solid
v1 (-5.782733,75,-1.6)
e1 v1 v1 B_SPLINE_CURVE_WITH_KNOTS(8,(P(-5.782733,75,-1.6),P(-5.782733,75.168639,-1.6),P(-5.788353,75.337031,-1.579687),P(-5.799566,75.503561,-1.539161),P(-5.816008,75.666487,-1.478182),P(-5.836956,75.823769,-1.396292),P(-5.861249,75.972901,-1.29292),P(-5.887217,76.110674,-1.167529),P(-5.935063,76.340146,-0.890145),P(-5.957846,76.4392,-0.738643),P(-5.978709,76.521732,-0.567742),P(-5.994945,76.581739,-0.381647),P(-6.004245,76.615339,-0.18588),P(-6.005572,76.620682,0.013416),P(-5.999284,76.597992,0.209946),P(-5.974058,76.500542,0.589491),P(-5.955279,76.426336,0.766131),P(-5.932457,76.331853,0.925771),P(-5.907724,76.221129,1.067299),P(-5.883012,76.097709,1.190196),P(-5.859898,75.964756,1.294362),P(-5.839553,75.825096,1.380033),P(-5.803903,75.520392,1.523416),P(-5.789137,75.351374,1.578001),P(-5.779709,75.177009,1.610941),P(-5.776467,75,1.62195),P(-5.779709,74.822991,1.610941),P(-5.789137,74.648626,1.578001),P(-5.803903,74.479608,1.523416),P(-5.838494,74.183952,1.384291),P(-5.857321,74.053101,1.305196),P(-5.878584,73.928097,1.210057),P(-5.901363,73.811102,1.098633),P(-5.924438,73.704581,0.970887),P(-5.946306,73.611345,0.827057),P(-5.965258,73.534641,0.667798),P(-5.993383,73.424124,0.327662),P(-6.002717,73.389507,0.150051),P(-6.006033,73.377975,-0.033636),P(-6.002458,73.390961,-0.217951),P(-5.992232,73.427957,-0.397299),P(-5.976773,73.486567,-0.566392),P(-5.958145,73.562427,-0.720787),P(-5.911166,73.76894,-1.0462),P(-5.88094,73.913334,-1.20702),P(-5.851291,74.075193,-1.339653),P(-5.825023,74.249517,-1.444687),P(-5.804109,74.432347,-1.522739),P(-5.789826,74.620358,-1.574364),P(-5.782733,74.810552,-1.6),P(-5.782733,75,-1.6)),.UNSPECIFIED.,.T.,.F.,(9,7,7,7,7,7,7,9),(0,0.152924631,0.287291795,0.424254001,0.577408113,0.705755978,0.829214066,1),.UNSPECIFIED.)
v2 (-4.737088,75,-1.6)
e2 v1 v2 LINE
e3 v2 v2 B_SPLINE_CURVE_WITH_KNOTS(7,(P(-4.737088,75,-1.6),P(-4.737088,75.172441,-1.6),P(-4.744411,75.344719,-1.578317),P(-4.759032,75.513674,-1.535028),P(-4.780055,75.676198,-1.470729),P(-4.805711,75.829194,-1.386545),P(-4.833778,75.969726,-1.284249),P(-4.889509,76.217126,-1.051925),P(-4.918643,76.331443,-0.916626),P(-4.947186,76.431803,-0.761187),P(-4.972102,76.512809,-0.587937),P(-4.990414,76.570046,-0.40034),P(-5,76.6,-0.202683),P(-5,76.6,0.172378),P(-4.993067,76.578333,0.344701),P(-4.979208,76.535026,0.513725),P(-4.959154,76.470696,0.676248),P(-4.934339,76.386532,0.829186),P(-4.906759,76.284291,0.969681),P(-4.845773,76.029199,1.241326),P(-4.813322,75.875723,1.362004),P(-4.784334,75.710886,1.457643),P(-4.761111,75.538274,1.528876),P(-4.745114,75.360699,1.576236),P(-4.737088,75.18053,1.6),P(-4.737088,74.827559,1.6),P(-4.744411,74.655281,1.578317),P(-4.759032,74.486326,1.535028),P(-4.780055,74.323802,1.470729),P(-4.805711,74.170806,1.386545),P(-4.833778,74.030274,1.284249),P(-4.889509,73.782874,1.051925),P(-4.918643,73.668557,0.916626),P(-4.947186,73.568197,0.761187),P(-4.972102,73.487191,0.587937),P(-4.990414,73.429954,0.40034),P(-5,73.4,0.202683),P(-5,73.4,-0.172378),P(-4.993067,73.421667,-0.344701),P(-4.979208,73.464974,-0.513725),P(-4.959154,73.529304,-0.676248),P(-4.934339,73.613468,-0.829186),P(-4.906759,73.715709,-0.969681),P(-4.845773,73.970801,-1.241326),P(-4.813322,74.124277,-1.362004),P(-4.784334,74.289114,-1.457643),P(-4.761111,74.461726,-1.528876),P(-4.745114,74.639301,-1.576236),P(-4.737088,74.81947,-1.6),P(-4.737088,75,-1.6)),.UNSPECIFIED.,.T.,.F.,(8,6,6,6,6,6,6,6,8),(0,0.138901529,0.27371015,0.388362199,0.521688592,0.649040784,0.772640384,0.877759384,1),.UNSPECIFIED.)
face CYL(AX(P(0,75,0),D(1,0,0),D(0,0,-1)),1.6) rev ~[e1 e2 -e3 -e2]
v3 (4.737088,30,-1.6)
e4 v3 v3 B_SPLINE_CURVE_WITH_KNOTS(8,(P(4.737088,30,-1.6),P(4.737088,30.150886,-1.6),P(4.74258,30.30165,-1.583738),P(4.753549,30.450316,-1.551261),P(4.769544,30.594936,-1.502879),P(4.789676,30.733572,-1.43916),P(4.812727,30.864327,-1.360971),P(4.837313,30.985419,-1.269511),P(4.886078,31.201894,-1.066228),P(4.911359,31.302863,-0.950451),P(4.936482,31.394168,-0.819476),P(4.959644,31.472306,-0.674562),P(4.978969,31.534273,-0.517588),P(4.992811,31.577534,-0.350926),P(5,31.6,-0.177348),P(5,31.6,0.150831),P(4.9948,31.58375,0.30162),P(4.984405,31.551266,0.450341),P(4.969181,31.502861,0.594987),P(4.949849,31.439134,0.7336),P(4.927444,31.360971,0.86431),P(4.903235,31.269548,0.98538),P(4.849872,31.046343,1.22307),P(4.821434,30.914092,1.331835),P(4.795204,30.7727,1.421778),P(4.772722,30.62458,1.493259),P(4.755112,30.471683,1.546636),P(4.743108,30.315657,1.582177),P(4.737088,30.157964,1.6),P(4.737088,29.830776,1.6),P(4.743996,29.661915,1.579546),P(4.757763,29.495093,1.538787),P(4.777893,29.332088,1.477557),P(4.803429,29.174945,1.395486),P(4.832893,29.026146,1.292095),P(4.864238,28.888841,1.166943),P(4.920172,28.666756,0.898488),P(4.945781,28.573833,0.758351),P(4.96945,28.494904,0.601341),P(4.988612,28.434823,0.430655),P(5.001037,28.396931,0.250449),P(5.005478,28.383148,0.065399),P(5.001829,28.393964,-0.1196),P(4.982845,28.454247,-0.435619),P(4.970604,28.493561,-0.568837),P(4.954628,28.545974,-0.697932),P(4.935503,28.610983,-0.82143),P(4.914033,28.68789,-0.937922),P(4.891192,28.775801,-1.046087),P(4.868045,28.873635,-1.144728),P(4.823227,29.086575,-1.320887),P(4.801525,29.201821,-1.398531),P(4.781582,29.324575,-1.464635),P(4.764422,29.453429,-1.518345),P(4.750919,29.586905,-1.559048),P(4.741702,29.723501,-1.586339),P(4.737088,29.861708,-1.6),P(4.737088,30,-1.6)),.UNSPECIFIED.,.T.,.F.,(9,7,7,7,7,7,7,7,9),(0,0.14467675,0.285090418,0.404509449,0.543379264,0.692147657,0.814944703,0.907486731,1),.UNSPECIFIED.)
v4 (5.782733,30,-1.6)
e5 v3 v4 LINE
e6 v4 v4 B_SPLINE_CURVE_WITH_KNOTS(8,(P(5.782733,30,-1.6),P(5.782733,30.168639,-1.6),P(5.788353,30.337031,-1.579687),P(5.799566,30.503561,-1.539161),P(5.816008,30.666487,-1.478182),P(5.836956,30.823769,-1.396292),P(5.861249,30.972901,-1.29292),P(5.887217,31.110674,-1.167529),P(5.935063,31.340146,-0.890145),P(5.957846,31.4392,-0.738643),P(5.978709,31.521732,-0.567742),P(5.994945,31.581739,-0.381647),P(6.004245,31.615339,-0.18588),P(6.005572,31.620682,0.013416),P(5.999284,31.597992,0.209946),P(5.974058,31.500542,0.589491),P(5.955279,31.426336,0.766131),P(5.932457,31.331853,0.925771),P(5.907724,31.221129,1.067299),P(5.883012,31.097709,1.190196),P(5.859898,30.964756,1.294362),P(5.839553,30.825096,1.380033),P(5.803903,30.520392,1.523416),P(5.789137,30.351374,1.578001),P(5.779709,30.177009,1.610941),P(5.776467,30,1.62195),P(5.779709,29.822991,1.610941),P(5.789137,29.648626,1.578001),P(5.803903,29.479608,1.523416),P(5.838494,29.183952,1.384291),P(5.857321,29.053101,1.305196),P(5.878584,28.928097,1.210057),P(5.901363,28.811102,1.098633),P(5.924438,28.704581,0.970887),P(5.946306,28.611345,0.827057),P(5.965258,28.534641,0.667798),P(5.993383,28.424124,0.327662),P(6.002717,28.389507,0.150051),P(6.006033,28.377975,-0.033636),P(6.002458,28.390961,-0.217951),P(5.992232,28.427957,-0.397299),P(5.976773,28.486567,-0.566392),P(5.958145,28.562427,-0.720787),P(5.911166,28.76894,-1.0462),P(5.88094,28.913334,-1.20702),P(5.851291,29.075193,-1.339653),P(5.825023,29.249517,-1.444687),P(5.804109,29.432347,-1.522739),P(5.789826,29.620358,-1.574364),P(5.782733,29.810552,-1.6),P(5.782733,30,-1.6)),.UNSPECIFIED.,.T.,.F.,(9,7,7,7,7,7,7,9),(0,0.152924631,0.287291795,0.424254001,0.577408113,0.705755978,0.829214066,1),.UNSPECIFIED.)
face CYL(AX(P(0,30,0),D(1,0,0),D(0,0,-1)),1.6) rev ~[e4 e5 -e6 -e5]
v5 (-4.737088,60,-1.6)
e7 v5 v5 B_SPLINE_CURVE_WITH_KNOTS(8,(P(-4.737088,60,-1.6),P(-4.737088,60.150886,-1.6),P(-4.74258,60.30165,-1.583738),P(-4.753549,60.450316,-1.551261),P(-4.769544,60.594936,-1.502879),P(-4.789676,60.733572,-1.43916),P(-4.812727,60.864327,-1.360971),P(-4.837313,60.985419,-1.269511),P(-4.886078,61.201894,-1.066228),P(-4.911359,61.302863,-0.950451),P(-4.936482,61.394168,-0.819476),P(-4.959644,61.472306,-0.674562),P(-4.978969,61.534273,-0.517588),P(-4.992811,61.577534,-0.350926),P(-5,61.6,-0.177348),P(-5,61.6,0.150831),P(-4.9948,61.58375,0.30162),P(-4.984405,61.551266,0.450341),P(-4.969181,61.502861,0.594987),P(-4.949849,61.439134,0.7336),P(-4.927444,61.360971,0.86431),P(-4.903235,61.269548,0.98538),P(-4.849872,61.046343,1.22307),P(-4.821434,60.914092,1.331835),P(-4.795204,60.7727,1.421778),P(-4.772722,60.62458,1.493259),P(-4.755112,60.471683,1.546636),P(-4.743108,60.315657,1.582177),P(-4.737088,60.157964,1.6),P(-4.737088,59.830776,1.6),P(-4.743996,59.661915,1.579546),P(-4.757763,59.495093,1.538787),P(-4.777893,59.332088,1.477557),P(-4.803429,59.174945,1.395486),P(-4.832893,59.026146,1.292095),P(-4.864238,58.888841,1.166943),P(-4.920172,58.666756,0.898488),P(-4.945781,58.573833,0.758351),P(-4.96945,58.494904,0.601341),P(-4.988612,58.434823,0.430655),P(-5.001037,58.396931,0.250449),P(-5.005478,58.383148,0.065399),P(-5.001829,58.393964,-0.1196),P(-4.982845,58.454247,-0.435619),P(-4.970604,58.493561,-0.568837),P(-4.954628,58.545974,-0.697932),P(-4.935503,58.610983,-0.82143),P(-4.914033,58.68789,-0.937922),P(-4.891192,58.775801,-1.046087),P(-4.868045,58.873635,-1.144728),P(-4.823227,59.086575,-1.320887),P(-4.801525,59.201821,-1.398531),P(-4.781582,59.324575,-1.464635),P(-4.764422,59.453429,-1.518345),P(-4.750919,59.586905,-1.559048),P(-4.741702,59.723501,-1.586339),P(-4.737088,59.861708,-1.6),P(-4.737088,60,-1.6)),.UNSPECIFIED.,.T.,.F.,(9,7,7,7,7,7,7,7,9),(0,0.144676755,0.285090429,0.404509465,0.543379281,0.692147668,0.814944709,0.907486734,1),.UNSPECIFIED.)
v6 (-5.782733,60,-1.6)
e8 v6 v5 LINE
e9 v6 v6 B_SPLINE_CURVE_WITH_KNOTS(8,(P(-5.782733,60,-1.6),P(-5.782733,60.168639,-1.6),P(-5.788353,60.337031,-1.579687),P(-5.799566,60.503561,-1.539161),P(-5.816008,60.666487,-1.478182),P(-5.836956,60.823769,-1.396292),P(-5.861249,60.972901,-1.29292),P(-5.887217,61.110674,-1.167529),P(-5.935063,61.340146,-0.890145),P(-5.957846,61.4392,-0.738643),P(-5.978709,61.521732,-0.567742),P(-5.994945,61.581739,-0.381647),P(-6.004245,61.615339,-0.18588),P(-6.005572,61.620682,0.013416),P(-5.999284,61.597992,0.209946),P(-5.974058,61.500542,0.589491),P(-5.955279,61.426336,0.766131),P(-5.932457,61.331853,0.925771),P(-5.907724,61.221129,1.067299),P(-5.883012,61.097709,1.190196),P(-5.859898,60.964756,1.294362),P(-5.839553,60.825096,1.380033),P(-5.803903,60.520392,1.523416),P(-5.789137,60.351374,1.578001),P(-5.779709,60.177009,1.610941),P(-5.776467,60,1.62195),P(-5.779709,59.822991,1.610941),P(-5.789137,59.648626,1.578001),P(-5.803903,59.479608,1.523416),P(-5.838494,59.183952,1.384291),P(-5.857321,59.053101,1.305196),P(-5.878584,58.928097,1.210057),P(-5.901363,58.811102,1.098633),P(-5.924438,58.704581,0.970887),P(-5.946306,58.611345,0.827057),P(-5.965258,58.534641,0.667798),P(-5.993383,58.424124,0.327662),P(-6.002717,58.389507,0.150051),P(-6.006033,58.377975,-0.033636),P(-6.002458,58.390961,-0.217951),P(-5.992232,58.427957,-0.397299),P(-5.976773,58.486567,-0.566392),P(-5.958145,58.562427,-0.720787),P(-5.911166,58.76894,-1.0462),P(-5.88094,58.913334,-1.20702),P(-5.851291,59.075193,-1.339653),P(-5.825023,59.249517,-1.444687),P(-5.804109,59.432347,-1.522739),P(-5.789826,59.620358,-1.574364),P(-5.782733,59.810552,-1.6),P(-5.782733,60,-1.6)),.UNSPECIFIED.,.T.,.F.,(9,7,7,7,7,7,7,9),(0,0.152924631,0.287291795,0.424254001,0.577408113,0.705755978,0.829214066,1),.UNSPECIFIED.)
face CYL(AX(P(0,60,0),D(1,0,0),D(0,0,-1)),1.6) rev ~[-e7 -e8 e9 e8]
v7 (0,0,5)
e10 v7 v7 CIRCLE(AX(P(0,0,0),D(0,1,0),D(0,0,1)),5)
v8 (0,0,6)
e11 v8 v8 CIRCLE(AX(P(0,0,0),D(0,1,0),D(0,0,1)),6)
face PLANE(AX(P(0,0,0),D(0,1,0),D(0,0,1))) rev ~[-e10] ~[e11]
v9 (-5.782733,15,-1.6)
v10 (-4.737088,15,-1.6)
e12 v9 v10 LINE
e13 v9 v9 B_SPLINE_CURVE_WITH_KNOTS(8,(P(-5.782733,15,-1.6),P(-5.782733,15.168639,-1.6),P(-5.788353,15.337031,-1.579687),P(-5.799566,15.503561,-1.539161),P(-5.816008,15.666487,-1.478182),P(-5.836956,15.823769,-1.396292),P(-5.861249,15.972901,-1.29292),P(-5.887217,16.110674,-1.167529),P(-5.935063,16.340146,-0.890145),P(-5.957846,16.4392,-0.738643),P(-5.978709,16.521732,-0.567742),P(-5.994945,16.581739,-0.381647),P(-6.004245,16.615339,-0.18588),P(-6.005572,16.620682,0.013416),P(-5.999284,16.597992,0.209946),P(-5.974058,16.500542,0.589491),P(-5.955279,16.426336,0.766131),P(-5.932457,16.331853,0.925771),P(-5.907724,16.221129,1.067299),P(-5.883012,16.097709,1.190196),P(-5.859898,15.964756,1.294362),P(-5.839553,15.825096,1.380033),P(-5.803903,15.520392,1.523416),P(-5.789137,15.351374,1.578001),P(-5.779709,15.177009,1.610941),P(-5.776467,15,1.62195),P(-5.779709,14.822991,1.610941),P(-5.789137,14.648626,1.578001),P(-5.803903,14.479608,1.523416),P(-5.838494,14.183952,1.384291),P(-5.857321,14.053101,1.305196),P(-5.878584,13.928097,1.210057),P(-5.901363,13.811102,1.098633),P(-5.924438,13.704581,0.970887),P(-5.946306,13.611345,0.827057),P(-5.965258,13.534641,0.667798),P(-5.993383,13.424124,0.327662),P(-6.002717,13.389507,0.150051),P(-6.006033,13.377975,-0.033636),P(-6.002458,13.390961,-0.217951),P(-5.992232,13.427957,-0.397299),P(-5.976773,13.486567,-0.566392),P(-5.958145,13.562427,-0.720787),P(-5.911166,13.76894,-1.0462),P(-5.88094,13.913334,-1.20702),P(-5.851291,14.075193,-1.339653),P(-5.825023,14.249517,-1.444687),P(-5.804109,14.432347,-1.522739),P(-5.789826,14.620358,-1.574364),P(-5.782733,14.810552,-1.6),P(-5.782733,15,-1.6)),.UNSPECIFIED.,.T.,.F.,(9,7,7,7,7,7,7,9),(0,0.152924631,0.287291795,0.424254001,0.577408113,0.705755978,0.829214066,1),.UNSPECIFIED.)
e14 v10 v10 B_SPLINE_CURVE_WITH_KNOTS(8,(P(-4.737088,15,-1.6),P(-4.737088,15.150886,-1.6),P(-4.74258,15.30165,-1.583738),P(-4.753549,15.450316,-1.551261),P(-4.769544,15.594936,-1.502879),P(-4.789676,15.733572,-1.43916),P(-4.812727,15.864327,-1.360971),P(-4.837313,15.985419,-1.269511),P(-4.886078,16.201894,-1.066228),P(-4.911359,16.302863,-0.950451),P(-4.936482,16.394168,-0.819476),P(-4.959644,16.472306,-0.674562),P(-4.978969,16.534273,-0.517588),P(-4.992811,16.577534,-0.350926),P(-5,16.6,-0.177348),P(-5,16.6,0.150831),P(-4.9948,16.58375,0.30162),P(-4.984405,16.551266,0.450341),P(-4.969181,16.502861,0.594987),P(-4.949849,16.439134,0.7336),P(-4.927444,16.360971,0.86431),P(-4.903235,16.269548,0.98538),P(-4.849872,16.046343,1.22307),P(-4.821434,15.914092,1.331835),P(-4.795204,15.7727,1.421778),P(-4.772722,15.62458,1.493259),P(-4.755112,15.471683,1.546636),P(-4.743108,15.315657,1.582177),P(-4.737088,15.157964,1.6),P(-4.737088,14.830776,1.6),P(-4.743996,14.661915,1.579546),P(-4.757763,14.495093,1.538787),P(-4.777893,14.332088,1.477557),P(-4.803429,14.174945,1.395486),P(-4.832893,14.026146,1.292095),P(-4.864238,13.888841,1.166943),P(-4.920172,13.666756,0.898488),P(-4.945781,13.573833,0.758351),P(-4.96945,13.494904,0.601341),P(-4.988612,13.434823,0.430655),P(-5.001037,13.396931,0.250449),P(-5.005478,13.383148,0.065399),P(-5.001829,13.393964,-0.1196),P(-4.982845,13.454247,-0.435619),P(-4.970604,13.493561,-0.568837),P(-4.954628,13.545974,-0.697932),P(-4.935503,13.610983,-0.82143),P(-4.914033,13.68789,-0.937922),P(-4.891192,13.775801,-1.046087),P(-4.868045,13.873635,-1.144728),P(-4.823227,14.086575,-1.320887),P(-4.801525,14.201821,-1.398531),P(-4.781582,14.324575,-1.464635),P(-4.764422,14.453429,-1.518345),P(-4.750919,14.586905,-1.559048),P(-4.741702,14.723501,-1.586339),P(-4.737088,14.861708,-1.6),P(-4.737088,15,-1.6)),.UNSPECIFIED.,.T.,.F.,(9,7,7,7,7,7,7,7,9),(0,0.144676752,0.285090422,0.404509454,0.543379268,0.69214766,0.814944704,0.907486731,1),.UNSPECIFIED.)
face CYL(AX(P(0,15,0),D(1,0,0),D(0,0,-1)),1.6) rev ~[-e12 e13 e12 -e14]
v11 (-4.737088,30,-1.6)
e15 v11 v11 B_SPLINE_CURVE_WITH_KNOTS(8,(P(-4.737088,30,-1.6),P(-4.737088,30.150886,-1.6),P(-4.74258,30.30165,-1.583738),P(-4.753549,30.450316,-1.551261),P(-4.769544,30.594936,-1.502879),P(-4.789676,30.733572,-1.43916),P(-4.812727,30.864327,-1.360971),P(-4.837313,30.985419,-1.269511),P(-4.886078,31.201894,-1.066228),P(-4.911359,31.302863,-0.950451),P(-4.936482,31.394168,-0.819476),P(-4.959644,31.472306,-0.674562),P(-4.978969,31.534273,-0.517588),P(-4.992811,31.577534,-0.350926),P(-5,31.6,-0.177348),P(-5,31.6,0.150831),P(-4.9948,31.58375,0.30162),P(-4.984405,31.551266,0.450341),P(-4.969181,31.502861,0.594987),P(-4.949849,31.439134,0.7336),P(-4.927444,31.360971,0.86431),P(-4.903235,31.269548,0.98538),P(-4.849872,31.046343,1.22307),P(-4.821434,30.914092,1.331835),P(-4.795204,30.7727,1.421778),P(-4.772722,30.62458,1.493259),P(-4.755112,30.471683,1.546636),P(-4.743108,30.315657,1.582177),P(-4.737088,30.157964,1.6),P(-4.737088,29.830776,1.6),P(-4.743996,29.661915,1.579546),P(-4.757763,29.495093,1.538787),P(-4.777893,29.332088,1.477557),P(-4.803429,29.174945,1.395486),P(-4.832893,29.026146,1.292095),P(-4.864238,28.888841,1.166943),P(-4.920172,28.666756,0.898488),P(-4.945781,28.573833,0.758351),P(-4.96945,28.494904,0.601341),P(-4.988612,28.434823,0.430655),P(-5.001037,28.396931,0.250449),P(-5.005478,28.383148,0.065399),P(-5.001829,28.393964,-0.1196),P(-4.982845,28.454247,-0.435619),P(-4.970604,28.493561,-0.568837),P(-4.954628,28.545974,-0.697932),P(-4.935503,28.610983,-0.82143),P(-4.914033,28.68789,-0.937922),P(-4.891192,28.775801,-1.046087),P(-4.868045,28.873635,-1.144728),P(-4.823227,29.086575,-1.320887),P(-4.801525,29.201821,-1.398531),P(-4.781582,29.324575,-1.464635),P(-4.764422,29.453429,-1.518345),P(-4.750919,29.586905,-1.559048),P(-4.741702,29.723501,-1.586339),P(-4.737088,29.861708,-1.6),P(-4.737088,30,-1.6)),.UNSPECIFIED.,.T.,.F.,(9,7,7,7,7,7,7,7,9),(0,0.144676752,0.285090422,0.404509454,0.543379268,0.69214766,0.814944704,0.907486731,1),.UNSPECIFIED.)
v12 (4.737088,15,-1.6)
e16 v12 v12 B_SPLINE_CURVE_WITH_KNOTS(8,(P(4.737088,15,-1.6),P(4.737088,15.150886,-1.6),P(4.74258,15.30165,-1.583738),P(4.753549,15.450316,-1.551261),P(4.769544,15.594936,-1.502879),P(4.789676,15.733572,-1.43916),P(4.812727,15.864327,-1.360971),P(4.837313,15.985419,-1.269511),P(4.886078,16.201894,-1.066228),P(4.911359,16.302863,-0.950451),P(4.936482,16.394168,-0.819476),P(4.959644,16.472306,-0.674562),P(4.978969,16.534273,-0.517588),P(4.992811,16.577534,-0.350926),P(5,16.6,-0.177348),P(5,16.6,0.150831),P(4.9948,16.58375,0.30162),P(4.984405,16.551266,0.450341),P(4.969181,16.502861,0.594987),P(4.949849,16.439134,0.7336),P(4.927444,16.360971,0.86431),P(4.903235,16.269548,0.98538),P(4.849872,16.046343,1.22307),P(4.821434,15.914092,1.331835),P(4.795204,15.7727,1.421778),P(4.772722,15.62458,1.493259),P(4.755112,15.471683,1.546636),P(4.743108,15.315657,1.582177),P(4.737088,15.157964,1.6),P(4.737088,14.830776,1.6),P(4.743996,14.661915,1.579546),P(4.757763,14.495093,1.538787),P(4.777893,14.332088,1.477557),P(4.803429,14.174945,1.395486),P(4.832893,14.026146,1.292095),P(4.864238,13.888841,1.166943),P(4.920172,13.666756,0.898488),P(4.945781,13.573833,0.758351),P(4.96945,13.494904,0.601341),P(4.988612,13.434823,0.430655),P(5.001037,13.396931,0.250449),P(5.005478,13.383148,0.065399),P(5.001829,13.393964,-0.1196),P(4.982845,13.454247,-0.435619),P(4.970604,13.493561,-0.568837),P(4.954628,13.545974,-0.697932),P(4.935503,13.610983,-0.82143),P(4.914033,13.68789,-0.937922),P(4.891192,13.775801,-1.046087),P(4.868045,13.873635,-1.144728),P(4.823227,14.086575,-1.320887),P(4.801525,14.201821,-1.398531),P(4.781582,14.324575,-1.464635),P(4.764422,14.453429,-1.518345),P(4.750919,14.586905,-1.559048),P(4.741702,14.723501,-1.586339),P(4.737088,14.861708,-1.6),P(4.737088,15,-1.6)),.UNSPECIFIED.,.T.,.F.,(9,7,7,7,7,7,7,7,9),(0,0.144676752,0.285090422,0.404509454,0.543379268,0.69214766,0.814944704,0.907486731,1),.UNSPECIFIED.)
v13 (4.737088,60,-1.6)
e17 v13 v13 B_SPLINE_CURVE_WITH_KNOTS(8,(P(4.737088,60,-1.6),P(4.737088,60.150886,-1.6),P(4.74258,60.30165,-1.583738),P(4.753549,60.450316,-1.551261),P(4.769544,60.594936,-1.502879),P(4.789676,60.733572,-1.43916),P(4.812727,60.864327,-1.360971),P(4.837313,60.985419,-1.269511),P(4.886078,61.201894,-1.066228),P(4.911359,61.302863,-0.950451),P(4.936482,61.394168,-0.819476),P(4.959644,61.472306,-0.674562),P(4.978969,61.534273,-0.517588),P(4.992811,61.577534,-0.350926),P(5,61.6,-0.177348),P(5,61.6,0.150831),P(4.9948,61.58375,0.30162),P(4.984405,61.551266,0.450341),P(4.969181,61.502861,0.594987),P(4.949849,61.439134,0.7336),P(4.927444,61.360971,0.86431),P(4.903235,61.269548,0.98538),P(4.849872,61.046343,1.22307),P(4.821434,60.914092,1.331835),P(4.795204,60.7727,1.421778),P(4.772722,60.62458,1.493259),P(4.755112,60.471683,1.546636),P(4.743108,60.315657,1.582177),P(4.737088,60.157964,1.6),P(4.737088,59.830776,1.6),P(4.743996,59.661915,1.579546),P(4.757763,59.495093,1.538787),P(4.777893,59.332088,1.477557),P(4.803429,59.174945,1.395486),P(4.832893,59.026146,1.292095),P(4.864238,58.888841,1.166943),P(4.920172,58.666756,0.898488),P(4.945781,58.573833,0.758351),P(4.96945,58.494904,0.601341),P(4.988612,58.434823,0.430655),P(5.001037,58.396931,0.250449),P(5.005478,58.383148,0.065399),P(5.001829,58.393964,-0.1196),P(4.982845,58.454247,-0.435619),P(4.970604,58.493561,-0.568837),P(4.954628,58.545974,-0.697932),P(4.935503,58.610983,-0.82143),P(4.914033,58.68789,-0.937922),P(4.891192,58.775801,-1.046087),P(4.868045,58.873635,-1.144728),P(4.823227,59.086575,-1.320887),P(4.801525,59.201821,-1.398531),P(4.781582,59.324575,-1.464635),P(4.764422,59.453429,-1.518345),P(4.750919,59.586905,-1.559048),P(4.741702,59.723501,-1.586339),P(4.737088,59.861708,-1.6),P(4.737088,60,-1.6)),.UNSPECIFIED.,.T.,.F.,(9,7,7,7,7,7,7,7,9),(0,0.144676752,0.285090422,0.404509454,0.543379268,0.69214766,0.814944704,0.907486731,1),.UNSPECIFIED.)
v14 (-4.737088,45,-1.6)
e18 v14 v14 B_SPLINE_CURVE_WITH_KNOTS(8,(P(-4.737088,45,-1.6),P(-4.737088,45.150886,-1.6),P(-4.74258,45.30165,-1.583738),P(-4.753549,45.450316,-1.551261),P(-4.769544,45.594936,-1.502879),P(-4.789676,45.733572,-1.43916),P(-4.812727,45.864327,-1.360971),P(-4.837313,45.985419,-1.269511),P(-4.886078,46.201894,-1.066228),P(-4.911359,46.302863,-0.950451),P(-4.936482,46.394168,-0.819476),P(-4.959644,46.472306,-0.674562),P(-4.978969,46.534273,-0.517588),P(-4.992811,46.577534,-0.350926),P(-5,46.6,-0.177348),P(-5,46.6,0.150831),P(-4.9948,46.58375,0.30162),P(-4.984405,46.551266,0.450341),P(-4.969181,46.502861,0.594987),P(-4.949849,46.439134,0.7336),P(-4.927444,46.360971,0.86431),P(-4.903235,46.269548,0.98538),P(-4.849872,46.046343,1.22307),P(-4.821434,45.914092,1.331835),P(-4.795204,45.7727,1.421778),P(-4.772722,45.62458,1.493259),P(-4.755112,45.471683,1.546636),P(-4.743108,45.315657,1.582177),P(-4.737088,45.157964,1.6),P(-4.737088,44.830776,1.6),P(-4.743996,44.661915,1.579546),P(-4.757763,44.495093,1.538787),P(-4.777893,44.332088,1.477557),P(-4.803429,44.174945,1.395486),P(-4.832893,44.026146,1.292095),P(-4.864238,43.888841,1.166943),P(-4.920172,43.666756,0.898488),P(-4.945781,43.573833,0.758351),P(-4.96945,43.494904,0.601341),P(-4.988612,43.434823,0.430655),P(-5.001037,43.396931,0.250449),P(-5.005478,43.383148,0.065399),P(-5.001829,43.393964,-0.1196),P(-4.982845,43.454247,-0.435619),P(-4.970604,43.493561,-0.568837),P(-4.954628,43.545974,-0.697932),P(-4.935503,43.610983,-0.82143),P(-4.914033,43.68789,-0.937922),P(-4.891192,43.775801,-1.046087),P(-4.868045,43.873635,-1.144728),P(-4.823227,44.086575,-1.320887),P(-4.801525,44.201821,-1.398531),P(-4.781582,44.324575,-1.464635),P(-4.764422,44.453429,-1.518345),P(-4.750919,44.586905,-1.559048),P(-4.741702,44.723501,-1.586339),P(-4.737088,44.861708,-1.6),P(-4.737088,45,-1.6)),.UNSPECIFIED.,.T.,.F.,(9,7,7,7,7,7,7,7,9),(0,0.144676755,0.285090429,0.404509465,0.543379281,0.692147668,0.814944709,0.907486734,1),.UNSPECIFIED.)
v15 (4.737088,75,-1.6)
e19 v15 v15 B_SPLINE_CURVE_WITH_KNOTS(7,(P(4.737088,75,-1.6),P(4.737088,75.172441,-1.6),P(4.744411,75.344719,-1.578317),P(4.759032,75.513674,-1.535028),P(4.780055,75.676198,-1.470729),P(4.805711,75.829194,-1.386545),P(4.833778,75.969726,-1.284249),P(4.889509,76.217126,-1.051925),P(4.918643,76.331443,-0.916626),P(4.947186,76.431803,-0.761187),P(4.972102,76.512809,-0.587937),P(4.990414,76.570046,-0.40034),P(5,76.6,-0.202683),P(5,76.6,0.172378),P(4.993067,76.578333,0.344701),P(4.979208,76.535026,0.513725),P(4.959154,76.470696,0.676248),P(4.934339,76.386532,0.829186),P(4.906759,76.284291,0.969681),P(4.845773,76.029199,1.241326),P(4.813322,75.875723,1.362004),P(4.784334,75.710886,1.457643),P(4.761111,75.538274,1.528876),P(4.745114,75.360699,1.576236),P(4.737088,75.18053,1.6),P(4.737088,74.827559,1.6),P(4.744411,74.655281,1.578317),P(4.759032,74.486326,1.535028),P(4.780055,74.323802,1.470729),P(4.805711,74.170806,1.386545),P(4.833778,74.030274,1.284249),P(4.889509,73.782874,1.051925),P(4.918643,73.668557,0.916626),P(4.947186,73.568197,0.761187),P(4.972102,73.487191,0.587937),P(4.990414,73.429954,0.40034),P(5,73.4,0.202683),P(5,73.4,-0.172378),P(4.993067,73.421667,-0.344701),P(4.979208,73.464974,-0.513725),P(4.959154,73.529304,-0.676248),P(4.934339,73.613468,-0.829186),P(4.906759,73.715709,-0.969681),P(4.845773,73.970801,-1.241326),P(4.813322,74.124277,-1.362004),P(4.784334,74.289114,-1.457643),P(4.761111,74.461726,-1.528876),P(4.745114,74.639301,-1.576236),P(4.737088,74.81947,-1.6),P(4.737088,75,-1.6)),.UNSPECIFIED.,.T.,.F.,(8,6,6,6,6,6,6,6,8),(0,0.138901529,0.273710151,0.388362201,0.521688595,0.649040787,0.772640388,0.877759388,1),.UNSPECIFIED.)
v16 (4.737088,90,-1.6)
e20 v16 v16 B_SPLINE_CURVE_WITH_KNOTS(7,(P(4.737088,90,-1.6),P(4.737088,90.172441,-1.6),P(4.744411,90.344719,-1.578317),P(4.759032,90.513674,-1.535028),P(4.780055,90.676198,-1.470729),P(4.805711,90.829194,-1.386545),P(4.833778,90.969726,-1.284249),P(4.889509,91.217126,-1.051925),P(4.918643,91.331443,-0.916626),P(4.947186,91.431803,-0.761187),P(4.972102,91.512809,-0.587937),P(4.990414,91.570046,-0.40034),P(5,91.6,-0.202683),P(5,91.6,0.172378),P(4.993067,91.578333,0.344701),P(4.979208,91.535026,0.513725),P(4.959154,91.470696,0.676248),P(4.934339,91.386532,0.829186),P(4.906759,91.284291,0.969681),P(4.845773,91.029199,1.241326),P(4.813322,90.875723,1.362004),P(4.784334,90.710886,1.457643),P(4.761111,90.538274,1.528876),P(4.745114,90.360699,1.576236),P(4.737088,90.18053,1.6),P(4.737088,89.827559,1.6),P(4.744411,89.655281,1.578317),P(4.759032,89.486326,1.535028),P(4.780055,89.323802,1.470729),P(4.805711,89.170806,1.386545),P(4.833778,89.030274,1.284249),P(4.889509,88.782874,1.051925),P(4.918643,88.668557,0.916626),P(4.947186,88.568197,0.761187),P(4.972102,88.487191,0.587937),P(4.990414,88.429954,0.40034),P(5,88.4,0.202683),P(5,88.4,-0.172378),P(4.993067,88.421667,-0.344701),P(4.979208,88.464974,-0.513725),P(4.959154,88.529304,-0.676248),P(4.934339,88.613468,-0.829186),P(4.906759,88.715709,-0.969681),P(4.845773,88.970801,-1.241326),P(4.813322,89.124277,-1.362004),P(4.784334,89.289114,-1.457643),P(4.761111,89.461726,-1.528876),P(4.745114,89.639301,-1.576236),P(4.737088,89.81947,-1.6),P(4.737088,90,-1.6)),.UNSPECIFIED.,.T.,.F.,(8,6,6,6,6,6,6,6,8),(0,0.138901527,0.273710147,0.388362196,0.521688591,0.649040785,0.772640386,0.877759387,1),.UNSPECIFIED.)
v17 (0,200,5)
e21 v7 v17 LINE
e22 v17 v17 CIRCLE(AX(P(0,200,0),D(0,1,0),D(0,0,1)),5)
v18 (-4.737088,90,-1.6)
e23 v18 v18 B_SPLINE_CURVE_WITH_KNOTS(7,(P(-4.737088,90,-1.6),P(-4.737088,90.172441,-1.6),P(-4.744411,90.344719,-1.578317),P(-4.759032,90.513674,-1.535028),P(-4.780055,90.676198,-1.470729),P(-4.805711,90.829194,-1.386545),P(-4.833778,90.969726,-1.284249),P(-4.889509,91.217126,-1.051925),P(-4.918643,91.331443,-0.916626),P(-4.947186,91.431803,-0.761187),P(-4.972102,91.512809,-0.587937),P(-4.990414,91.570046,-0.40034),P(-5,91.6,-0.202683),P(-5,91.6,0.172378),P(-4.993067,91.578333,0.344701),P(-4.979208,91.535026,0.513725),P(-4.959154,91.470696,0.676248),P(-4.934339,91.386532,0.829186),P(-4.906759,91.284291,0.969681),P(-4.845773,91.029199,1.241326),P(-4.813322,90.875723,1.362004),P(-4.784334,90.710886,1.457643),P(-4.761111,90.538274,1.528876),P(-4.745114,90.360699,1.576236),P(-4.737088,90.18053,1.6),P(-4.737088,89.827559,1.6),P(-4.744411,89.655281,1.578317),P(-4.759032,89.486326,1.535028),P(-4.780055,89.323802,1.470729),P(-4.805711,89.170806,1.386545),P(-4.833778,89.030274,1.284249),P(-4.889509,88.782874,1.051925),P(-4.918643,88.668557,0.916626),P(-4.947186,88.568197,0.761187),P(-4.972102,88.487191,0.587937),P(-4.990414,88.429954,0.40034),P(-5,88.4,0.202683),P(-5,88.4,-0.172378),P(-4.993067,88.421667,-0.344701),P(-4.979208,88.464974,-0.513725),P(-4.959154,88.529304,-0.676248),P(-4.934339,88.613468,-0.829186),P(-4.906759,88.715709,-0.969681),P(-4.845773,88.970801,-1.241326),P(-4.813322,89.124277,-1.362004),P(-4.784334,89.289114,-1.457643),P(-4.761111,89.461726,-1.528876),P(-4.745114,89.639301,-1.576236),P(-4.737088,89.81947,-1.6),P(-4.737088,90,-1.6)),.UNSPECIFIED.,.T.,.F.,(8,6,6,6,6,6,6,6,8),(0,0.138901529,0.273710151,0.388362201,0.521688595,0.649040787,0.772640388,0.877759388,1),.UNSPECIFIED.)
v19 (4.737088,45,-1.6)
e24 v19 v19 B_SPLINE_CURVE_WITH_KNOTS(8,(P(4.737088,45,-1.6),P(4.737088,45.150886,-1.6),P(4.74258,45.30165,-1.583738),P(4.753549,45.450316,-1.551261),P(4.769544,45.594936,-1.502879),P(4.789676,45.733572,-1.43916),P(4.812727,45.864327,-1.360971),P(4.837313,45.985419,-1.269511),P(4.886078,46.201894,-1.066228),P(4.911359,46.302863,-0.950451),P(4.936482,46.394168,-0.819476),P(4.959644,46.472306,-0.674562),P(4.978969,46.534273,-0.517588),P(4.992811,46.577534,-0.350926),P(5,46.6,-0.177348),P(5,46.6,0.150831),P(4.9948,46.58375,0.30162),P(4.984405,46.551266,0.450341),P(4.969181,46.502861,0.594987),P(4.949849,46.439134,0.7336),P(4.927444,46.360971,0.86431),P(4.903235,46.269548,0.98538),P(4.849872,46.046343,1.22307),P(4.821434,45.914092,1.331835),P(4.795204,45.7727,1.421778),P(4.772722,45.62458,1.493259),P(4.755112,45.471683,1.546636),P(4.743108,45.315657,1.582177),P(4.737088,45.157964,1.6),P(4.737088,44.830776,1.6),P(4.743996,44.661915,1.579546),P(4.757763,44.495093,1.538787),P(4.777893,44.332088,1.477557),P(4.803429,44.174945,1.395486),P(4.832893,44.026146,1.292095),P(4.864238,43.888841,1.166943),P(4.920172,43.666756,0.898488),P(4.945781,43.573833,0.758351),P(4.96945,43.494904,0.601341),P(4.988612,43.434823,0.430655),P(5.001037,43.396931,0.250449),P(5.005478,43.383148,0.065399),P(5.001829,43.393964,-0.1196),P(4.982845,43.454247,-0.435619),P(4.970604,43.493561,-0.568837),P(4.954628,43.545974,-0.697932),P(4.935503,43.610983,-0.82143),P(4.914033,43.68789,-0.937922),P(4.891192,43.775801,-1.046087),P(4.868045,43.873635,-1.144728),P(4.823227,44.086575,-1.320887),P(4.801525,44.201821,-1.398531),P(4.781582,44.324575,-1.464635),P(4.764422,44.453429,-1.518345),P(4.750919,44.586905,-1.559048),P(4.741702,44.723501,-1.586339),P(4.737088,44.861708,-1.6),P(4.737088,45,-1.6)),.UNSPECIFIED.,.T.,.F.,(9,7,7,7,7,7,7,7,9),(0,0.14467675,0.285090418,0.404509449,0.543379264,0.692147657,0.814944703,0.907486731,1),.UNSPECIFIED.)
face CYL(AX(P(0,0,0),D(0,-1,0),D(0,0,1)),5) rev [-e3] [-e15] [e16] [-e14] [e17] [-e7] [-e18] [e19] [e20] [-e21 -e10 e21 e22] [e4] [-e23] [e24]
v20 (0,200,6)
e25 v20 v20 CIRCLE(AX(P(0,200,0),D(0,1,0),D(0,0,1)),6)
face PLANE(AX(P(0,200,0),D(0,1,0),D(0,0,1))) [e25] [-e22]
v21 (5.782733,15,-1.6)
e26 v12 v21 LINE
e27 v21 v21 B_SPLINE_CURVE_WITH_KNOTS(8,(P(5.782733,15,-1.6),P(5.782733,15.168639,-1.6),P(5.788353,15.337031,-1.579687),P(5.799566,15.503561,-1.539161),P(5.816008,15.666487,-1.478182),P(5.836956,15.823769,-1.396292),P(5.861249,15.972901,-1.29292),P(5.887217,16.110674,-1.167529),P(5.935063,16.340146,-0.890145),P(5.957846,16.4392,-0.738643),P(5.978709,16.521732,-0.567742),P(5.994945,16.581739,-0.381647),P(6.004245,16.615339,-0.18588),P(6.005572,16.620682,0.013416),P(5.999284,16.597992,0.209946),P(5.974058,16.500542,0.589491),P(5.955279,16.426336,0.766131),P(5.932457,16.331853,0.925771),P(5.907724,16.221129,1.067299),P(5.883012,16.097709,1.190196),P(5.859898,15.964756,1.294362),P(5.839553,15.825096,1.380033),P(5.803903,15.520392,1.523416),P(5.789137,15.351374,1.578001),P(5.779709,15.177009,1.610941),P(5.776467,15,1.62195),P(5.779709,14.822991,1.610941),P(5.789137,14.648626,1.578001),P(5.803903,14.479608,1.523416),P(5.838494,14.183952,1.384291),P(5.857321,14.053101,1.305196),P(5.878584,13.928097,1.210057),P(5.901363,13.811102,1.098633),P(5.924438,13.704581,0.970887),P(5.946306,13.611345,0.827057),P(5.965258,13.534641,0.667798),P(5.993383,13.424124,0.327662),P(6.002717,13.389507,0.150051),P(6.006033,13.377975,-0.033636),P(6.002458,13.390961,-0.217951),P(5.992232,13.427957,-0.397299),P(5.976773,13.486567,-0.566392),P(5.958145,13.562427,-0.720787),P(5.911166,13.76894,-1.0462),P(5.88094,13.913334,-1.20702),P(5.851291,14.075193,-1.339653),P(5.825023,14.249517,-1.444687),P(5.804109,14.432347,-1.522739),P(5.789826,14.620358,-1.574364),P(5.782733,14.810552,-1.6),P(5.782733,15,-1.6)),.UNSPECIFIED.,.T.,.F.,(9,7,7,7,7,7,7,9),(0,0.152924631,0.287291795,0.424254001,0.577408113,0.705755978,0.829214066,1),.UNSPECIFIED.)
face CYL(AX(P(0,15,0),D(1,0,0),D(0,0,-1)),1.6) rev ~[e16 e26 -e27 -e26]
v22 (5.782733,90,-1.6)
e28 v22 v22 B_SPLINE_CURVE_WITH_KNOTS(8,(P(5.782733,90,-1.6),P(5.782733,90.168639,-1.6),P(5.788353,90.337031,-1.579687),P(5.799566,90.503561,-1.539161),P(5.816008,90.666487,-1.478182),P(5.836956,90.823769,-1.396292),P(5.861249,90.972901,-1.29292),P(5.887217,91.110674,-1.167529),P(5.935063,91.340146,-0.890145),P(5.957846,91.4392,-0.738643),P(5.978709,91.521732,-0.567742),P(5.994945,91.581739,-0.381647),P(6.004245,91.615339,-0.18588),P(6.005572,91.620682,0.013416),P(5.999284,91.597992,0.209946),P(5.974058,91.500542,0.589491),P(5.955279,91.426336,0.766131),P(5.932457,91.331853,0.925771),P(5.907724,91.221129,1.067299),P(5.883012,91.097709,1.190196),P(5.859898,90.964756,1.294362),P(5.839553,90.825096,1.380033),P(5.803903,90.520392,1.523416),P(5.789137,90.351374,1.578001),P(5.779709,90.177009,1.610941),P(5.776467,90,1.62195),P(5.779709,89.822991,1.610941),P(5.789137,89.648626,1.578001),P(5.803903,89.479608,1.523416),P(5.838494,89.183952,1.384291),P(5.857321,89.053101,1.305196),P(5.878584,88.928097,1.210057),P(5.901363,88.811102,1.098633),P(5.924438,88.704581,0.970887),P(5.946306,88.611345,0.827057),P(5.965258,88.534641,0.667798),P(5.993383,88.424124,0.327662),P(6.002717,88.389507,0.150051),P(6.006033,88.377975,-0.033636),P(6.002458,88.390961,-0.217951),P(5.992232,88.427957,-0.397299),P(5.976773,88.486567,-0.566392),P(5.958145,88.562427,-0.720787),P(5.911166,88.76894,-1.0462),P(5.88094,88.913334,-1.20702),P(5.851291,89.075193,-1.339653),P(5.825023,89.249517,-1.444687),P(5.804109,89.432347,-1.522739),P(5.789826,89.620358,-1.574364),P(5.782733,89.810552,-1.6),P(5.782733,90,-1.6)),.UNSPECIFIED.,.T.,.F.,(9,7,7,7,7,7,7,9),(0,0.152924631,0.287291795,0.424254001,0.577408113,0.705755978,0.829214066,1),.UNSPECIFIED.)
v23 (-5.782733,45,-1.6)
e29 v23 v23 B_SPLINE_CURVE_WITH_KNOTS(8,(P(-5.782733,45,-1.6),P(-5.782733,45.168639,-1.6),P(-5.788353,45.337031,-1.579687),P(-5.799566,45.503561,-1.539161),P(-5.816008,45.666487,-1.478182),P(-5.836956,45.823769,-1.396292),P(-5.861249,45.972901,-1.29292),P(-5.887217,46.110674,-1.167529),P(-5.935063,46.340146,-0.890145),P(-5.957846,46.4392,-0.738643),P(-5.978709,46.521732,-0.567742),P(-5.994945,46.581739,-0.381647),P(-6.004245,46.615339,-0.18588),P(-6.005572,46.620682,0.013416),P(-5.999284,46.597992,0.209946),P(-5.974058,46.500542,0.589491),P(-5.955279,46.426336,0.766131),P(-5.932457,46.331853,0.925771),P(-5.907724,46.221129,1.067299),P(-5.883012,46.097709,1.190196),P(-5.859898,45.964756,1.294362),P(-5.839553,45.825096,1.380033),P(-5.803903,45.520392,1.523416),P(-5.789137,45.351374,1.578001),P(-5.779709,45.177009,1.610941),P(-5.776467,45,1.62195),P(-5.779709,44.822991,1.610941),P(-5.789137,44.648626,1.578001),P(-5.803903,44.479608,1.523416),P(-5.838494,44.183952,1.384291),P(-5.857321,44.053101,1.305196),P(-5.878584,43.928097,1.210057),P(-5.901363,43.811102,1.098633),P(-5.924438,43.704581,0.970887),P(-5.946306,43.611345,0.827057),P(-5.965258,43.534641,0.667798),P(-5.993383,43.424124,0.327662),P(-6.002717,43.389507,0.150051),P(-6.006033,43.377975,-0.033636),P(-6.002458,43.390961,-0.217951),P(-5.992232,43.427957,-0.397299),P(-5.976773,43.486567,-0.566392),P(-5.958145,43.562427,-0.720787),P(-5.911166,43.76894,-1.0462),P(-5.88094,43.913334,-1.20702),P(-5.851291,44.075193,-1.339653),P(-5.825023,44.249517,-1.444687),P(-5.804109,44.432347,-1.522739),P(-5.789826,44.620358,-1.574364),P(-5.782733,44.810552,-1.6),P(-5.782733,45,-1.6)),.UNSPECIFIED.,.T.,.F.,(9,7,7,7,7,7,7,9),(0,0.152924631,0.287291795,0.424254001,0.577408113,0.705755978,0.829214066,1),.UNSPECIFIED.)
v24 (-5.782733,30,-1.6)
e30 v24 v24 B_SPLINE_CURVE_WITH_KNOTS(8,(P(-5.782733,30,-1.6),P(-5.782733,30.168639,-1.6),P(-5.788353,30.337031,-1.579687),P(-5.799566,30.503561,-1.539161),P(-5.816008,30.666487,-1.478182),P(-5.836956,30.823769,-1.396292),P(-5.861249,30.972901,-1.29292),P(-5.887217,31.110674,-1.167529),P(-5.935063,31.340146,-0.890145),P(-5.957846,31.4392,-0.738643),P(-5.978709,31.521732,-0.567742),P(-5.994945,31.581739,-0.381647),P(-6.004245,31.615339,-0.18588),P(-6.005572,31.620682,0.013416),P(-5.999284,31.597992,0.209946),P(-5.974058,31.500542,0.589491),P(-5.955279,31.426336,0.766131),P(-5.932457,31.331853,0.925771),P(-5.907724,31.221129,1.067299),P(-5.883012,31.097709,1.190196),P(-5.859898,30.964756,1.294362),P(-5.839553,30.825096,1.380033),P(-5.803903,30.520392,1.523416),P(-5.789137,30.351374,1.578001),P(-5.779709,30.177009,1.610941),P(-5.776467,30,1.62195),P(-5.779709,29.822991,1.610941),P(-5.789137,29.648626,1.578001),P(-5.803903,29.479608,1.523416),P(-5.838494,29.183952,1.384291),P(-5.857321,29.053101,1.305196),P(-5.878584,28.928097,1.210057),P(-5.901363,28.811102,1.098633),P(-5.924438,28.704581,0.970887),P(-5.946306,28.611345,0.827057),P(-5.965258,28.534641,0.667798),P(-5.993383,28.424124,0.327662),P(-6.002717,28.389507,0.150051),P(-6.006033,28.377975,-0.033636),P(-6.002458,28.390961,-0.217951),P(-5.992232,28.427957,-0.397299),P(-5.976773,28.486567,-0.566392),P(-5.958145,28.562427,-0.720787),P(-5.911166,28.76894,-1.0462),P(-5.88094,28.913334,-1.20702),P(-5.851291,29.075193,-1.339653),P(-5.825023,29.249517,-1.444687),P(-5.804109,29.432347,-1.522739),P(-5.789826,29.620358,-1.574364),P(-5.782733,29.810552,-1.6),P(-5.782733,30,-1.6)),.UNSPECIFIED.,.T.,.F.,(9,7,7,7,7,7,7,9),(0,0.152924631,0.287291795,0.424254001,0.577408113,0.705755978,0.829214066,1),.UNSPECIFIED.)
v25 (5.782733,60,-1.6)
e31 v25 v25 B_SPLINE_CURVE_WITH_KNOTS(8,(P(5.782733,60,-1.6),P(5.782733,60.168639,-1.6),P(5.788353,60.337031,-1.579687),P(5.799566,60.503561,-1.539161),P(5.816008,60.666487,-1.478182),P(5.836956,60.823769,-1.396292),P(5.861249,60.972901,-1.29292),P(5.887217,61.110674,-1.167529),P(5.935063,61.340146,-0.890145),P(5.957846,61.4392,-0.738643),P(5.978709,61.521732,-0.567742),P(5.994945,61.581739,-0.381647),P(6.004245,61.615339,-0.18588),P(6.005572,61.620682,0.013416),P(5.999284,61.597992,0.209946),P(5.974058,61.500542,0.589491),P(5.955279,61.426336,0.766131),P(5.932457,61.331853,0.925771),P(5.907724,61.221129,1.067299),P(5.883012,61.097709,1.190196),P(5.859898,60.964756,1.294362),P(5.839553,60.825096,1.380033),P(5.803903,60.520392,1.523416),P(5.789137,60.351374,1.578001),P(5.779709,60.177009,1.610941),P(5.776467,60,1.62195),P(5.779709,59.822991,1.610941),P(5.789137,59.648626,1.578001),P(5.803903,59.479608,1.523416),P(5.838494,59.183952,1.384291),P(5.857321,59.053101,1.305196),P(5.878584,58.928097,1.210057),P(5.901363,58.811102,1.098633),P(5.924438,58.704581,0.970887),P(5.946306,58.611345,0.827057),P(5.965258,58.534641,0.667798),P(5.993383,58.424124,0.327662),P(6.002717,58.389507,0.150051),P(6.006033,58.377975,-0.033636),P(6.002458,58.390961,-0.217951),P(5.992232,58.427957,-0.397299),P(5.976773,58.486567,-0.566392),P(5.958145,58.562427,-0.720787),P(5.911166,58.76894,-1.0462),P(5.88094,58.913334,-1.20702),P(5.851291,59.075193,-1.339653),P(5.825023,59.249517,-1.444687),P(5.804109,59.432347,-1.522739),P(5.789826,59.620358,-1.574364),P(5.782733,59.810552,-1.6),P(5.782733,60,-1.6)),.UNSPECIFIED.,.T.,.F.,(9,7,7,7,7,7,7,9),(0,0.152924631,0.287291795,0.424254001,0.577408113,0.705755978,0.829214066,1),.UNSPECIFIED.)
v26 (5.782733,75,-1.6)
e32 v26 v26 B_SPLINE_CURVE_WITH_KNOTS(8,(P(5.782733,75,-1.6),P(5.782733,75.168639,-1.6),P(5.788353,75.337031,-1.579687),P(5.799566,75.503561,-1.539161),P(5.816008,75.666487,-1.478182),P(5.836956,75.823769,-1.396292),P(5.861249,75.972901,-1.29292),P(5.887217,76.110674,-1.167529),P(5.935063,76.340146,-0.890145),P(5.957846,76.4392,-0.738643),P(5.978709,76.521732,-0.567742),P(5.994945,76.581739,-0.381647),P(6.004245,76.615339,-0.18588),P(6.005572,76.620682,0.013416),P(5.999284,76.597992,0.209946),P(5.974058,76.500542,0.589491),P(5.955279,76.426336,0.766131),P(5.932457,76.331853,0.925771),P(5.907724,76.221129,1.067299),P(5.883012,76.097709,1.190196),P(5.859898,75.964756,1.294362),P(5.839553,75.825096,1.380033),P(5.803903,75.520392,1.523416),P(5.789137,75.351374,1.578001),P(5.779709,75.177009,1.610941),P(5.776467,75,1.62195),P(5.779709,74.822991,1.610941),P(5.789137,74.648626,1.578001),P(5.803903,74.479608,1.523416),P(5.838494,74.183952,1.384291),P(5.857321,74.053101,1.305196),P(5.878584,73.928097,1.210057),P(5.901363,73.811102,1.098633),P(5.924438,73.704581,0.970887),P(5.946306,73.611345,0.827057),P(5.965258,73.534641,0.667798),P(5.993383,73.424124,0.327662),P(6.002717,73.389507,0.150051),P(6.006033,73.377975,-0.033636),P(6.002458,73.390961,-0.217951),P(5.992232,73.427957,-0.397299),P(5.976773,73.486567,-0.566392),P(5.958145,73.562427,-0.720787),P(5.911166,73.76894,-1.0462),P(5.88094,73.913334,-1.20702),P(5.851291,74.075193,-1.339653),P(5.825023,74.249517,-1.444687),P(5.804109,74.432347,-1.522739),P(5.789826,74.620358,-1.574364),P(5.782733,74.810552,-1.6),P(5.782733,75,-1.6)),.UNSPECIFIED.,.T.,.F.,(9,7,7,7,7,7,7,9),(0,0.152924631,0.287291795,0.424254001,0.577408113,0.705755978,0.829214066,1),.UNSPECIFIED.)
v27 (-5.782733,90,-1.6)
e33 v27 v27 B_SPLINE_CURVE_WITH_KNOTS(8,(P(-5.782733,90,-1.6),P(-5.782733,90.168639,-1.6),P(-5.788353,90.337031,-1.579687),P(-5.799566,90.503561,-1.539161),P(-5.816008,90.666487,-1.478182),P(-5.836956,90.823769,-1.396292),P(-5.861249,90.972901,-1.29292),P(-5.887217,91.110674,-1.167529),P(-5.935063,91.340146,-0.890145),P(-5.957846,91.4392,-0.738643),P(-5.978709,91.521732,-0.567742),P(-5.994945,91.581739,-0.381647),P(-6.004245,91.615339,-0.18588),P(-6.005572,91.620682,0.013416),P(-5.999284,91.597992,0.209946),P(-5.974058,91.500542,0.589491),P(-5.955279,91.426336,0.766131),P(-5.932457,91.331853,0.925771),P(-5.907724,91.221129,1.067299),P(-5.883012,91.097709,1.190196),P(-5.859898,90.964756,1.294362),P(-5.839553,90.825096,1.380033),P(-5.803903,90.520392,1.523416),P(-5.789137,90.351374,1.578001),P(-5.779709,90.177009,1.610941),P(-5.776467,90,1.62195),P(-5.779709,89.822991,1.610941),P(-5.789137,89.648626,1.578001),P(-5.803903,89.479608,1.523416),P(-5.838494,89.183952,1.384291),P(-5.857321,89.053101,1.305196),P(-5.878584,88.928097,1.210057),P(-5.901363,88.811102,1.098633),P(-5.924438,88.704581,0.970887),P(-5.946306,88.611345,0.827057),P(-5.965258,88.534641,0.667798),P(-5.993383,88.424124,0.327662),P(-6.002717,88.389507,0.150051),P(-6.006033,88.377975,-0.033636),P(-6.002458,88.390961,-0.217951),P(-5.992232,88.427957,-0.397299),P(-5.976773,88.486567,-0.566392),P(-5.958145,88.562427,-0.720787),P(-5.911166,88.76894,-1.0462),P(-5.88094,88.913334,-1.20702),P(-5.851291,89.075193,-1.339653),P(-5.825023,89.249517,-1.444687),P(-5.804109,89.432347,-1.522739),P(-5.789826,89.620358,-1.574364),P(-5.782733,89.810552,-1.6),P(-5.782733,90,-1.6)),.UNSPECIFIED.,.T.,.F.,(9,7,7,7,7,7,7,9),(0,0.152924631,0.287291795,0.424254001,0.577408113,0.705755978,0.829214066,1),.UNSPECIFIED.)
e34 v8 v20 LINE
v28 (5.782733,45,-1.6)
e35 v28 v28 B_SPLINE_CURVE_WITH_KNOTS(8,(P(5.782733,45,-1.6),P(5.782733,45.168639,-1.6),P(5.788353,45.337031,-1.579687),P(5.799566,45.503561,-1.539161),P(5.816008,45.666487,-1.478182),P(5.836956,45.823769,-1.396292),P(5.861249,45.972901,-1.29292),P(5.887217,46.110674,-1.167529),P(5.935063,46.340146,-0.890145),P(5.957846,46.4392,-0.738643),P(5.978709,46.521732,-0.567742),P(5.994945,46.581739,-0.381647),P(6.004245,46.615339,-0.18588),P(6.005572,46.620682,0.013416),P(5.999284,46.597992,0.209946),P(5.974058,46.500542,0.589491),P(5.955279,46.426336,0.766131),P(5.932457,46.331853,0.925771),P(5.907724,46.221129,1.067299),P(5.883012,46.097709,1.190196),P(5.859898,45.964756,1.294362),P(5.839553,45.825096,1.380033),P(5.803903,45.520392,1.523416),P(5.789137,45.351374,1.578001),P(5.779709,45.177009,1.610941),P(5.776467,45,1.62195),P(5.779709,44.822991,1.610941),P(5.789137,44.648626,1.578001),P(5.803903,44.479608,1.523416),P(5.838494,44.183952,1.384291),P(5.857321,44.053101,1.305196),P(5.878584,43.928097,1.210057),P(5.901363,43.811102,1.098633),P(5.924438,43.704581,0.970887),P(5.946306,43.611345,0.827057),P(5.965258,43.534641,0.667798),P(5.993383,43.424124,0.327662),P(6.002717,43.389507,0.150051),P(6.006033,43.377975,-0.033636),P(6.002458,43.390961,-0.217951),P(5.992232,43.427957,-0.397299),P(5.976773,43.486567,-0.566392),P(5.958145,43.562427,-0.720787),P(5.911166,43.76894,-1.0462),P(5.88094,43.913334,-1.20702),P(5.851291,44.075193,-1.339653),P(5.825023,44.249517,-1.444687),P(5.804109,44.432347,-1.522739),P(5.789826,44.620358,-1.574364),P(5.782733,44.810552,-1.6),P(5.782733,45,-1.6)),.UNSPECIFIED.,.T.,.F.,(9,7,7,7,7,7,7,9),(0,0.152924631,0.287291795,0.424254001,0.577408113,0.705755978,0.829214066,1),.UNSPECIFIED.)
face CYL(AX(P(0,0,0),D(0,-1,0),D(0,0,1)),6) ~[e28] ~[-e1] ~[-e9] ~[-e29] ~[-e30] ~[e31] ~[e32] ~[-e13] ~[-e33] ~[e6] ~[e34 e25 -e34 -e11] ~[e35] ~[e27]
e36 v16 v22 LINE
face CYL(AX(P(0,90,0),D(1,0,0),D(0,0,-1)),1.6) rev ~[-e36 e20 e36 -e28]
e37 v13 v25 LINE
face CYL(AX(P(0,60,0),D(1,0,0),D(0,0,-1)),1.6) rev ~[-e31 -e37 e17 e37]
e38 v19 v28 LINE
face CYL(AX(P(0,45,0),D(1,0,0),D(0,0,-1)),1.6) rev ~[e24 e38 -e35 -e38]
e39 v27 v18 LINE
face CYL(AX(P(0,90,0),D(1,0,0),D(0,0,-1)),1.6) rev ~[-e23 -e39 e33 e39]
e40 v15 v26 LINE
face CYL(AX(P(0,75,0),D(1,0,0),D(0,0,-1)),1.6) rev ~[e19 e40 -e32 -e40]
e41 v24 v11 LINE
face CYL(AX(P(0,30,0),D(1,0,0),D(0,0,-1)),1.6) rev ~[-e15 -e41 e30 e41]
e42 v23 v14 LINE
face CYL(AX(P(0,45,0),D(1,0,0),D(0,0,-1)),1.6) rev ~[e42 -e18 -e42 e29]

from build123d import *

# Parameters (mm, degrees)
SKETCH_1_R             = 6
SKETCH_1_R_2           = 5
EXTRUDE_1_DEPTH        = 200
SKETCH_4_R             = 1.6
CUT_EXTRUDE_2_DEPTH    = 201.179919073
PATTERN_LINEAR_1_COUNT = 6
PATTERN_LINEAR_1_PITCH = 15


with BuildPart() as part:
    # 草图1 → 凸台-拉伸1 (new body)
    with BuildSketch(Plane(origin=(0, 0, 0), x_dir=(1, 0, 0), z_dir=(0, 1, 0))):
        with Locations(Location((0, 0, 0), (0, 0, 270))):
            Circle(SKETCH_1_R)
        with Locations(Location((0, 0, 0), (0, 0, 270))):
            Circle(SKETCH_1_R_2, mode=Mode.SUBTRACT)
    extrude(amount=EXTRUDE_1_DEPTH)

    # 草图4 → 切除-拉伸2 (cut, symmetric)
    with BuildSketch(Plane(origin=(0, 0, 0), x_dir=(0, 0, -1), z_dir=(1, 0, 0))):
        with Locations((0, 15)):
            Circle(SKETCH_4_R)
    cut_extrude_2 = extrude(amount=CUT_EXTRUDE_2_DEPTH, both=True, mode=Mode.SUBTRACT)

    # 阵列(线性)1: 切除-拉伸2 ×6
    with Locations(*[(0, i * PATTERN_LINEAR_1_PITCH, 0) for i in range(1, PATTERN_LINEAR_1_COUNT)]):
        add(cut_extrude_2, mode=Mode.SUBTRACT)


solid = part.part
